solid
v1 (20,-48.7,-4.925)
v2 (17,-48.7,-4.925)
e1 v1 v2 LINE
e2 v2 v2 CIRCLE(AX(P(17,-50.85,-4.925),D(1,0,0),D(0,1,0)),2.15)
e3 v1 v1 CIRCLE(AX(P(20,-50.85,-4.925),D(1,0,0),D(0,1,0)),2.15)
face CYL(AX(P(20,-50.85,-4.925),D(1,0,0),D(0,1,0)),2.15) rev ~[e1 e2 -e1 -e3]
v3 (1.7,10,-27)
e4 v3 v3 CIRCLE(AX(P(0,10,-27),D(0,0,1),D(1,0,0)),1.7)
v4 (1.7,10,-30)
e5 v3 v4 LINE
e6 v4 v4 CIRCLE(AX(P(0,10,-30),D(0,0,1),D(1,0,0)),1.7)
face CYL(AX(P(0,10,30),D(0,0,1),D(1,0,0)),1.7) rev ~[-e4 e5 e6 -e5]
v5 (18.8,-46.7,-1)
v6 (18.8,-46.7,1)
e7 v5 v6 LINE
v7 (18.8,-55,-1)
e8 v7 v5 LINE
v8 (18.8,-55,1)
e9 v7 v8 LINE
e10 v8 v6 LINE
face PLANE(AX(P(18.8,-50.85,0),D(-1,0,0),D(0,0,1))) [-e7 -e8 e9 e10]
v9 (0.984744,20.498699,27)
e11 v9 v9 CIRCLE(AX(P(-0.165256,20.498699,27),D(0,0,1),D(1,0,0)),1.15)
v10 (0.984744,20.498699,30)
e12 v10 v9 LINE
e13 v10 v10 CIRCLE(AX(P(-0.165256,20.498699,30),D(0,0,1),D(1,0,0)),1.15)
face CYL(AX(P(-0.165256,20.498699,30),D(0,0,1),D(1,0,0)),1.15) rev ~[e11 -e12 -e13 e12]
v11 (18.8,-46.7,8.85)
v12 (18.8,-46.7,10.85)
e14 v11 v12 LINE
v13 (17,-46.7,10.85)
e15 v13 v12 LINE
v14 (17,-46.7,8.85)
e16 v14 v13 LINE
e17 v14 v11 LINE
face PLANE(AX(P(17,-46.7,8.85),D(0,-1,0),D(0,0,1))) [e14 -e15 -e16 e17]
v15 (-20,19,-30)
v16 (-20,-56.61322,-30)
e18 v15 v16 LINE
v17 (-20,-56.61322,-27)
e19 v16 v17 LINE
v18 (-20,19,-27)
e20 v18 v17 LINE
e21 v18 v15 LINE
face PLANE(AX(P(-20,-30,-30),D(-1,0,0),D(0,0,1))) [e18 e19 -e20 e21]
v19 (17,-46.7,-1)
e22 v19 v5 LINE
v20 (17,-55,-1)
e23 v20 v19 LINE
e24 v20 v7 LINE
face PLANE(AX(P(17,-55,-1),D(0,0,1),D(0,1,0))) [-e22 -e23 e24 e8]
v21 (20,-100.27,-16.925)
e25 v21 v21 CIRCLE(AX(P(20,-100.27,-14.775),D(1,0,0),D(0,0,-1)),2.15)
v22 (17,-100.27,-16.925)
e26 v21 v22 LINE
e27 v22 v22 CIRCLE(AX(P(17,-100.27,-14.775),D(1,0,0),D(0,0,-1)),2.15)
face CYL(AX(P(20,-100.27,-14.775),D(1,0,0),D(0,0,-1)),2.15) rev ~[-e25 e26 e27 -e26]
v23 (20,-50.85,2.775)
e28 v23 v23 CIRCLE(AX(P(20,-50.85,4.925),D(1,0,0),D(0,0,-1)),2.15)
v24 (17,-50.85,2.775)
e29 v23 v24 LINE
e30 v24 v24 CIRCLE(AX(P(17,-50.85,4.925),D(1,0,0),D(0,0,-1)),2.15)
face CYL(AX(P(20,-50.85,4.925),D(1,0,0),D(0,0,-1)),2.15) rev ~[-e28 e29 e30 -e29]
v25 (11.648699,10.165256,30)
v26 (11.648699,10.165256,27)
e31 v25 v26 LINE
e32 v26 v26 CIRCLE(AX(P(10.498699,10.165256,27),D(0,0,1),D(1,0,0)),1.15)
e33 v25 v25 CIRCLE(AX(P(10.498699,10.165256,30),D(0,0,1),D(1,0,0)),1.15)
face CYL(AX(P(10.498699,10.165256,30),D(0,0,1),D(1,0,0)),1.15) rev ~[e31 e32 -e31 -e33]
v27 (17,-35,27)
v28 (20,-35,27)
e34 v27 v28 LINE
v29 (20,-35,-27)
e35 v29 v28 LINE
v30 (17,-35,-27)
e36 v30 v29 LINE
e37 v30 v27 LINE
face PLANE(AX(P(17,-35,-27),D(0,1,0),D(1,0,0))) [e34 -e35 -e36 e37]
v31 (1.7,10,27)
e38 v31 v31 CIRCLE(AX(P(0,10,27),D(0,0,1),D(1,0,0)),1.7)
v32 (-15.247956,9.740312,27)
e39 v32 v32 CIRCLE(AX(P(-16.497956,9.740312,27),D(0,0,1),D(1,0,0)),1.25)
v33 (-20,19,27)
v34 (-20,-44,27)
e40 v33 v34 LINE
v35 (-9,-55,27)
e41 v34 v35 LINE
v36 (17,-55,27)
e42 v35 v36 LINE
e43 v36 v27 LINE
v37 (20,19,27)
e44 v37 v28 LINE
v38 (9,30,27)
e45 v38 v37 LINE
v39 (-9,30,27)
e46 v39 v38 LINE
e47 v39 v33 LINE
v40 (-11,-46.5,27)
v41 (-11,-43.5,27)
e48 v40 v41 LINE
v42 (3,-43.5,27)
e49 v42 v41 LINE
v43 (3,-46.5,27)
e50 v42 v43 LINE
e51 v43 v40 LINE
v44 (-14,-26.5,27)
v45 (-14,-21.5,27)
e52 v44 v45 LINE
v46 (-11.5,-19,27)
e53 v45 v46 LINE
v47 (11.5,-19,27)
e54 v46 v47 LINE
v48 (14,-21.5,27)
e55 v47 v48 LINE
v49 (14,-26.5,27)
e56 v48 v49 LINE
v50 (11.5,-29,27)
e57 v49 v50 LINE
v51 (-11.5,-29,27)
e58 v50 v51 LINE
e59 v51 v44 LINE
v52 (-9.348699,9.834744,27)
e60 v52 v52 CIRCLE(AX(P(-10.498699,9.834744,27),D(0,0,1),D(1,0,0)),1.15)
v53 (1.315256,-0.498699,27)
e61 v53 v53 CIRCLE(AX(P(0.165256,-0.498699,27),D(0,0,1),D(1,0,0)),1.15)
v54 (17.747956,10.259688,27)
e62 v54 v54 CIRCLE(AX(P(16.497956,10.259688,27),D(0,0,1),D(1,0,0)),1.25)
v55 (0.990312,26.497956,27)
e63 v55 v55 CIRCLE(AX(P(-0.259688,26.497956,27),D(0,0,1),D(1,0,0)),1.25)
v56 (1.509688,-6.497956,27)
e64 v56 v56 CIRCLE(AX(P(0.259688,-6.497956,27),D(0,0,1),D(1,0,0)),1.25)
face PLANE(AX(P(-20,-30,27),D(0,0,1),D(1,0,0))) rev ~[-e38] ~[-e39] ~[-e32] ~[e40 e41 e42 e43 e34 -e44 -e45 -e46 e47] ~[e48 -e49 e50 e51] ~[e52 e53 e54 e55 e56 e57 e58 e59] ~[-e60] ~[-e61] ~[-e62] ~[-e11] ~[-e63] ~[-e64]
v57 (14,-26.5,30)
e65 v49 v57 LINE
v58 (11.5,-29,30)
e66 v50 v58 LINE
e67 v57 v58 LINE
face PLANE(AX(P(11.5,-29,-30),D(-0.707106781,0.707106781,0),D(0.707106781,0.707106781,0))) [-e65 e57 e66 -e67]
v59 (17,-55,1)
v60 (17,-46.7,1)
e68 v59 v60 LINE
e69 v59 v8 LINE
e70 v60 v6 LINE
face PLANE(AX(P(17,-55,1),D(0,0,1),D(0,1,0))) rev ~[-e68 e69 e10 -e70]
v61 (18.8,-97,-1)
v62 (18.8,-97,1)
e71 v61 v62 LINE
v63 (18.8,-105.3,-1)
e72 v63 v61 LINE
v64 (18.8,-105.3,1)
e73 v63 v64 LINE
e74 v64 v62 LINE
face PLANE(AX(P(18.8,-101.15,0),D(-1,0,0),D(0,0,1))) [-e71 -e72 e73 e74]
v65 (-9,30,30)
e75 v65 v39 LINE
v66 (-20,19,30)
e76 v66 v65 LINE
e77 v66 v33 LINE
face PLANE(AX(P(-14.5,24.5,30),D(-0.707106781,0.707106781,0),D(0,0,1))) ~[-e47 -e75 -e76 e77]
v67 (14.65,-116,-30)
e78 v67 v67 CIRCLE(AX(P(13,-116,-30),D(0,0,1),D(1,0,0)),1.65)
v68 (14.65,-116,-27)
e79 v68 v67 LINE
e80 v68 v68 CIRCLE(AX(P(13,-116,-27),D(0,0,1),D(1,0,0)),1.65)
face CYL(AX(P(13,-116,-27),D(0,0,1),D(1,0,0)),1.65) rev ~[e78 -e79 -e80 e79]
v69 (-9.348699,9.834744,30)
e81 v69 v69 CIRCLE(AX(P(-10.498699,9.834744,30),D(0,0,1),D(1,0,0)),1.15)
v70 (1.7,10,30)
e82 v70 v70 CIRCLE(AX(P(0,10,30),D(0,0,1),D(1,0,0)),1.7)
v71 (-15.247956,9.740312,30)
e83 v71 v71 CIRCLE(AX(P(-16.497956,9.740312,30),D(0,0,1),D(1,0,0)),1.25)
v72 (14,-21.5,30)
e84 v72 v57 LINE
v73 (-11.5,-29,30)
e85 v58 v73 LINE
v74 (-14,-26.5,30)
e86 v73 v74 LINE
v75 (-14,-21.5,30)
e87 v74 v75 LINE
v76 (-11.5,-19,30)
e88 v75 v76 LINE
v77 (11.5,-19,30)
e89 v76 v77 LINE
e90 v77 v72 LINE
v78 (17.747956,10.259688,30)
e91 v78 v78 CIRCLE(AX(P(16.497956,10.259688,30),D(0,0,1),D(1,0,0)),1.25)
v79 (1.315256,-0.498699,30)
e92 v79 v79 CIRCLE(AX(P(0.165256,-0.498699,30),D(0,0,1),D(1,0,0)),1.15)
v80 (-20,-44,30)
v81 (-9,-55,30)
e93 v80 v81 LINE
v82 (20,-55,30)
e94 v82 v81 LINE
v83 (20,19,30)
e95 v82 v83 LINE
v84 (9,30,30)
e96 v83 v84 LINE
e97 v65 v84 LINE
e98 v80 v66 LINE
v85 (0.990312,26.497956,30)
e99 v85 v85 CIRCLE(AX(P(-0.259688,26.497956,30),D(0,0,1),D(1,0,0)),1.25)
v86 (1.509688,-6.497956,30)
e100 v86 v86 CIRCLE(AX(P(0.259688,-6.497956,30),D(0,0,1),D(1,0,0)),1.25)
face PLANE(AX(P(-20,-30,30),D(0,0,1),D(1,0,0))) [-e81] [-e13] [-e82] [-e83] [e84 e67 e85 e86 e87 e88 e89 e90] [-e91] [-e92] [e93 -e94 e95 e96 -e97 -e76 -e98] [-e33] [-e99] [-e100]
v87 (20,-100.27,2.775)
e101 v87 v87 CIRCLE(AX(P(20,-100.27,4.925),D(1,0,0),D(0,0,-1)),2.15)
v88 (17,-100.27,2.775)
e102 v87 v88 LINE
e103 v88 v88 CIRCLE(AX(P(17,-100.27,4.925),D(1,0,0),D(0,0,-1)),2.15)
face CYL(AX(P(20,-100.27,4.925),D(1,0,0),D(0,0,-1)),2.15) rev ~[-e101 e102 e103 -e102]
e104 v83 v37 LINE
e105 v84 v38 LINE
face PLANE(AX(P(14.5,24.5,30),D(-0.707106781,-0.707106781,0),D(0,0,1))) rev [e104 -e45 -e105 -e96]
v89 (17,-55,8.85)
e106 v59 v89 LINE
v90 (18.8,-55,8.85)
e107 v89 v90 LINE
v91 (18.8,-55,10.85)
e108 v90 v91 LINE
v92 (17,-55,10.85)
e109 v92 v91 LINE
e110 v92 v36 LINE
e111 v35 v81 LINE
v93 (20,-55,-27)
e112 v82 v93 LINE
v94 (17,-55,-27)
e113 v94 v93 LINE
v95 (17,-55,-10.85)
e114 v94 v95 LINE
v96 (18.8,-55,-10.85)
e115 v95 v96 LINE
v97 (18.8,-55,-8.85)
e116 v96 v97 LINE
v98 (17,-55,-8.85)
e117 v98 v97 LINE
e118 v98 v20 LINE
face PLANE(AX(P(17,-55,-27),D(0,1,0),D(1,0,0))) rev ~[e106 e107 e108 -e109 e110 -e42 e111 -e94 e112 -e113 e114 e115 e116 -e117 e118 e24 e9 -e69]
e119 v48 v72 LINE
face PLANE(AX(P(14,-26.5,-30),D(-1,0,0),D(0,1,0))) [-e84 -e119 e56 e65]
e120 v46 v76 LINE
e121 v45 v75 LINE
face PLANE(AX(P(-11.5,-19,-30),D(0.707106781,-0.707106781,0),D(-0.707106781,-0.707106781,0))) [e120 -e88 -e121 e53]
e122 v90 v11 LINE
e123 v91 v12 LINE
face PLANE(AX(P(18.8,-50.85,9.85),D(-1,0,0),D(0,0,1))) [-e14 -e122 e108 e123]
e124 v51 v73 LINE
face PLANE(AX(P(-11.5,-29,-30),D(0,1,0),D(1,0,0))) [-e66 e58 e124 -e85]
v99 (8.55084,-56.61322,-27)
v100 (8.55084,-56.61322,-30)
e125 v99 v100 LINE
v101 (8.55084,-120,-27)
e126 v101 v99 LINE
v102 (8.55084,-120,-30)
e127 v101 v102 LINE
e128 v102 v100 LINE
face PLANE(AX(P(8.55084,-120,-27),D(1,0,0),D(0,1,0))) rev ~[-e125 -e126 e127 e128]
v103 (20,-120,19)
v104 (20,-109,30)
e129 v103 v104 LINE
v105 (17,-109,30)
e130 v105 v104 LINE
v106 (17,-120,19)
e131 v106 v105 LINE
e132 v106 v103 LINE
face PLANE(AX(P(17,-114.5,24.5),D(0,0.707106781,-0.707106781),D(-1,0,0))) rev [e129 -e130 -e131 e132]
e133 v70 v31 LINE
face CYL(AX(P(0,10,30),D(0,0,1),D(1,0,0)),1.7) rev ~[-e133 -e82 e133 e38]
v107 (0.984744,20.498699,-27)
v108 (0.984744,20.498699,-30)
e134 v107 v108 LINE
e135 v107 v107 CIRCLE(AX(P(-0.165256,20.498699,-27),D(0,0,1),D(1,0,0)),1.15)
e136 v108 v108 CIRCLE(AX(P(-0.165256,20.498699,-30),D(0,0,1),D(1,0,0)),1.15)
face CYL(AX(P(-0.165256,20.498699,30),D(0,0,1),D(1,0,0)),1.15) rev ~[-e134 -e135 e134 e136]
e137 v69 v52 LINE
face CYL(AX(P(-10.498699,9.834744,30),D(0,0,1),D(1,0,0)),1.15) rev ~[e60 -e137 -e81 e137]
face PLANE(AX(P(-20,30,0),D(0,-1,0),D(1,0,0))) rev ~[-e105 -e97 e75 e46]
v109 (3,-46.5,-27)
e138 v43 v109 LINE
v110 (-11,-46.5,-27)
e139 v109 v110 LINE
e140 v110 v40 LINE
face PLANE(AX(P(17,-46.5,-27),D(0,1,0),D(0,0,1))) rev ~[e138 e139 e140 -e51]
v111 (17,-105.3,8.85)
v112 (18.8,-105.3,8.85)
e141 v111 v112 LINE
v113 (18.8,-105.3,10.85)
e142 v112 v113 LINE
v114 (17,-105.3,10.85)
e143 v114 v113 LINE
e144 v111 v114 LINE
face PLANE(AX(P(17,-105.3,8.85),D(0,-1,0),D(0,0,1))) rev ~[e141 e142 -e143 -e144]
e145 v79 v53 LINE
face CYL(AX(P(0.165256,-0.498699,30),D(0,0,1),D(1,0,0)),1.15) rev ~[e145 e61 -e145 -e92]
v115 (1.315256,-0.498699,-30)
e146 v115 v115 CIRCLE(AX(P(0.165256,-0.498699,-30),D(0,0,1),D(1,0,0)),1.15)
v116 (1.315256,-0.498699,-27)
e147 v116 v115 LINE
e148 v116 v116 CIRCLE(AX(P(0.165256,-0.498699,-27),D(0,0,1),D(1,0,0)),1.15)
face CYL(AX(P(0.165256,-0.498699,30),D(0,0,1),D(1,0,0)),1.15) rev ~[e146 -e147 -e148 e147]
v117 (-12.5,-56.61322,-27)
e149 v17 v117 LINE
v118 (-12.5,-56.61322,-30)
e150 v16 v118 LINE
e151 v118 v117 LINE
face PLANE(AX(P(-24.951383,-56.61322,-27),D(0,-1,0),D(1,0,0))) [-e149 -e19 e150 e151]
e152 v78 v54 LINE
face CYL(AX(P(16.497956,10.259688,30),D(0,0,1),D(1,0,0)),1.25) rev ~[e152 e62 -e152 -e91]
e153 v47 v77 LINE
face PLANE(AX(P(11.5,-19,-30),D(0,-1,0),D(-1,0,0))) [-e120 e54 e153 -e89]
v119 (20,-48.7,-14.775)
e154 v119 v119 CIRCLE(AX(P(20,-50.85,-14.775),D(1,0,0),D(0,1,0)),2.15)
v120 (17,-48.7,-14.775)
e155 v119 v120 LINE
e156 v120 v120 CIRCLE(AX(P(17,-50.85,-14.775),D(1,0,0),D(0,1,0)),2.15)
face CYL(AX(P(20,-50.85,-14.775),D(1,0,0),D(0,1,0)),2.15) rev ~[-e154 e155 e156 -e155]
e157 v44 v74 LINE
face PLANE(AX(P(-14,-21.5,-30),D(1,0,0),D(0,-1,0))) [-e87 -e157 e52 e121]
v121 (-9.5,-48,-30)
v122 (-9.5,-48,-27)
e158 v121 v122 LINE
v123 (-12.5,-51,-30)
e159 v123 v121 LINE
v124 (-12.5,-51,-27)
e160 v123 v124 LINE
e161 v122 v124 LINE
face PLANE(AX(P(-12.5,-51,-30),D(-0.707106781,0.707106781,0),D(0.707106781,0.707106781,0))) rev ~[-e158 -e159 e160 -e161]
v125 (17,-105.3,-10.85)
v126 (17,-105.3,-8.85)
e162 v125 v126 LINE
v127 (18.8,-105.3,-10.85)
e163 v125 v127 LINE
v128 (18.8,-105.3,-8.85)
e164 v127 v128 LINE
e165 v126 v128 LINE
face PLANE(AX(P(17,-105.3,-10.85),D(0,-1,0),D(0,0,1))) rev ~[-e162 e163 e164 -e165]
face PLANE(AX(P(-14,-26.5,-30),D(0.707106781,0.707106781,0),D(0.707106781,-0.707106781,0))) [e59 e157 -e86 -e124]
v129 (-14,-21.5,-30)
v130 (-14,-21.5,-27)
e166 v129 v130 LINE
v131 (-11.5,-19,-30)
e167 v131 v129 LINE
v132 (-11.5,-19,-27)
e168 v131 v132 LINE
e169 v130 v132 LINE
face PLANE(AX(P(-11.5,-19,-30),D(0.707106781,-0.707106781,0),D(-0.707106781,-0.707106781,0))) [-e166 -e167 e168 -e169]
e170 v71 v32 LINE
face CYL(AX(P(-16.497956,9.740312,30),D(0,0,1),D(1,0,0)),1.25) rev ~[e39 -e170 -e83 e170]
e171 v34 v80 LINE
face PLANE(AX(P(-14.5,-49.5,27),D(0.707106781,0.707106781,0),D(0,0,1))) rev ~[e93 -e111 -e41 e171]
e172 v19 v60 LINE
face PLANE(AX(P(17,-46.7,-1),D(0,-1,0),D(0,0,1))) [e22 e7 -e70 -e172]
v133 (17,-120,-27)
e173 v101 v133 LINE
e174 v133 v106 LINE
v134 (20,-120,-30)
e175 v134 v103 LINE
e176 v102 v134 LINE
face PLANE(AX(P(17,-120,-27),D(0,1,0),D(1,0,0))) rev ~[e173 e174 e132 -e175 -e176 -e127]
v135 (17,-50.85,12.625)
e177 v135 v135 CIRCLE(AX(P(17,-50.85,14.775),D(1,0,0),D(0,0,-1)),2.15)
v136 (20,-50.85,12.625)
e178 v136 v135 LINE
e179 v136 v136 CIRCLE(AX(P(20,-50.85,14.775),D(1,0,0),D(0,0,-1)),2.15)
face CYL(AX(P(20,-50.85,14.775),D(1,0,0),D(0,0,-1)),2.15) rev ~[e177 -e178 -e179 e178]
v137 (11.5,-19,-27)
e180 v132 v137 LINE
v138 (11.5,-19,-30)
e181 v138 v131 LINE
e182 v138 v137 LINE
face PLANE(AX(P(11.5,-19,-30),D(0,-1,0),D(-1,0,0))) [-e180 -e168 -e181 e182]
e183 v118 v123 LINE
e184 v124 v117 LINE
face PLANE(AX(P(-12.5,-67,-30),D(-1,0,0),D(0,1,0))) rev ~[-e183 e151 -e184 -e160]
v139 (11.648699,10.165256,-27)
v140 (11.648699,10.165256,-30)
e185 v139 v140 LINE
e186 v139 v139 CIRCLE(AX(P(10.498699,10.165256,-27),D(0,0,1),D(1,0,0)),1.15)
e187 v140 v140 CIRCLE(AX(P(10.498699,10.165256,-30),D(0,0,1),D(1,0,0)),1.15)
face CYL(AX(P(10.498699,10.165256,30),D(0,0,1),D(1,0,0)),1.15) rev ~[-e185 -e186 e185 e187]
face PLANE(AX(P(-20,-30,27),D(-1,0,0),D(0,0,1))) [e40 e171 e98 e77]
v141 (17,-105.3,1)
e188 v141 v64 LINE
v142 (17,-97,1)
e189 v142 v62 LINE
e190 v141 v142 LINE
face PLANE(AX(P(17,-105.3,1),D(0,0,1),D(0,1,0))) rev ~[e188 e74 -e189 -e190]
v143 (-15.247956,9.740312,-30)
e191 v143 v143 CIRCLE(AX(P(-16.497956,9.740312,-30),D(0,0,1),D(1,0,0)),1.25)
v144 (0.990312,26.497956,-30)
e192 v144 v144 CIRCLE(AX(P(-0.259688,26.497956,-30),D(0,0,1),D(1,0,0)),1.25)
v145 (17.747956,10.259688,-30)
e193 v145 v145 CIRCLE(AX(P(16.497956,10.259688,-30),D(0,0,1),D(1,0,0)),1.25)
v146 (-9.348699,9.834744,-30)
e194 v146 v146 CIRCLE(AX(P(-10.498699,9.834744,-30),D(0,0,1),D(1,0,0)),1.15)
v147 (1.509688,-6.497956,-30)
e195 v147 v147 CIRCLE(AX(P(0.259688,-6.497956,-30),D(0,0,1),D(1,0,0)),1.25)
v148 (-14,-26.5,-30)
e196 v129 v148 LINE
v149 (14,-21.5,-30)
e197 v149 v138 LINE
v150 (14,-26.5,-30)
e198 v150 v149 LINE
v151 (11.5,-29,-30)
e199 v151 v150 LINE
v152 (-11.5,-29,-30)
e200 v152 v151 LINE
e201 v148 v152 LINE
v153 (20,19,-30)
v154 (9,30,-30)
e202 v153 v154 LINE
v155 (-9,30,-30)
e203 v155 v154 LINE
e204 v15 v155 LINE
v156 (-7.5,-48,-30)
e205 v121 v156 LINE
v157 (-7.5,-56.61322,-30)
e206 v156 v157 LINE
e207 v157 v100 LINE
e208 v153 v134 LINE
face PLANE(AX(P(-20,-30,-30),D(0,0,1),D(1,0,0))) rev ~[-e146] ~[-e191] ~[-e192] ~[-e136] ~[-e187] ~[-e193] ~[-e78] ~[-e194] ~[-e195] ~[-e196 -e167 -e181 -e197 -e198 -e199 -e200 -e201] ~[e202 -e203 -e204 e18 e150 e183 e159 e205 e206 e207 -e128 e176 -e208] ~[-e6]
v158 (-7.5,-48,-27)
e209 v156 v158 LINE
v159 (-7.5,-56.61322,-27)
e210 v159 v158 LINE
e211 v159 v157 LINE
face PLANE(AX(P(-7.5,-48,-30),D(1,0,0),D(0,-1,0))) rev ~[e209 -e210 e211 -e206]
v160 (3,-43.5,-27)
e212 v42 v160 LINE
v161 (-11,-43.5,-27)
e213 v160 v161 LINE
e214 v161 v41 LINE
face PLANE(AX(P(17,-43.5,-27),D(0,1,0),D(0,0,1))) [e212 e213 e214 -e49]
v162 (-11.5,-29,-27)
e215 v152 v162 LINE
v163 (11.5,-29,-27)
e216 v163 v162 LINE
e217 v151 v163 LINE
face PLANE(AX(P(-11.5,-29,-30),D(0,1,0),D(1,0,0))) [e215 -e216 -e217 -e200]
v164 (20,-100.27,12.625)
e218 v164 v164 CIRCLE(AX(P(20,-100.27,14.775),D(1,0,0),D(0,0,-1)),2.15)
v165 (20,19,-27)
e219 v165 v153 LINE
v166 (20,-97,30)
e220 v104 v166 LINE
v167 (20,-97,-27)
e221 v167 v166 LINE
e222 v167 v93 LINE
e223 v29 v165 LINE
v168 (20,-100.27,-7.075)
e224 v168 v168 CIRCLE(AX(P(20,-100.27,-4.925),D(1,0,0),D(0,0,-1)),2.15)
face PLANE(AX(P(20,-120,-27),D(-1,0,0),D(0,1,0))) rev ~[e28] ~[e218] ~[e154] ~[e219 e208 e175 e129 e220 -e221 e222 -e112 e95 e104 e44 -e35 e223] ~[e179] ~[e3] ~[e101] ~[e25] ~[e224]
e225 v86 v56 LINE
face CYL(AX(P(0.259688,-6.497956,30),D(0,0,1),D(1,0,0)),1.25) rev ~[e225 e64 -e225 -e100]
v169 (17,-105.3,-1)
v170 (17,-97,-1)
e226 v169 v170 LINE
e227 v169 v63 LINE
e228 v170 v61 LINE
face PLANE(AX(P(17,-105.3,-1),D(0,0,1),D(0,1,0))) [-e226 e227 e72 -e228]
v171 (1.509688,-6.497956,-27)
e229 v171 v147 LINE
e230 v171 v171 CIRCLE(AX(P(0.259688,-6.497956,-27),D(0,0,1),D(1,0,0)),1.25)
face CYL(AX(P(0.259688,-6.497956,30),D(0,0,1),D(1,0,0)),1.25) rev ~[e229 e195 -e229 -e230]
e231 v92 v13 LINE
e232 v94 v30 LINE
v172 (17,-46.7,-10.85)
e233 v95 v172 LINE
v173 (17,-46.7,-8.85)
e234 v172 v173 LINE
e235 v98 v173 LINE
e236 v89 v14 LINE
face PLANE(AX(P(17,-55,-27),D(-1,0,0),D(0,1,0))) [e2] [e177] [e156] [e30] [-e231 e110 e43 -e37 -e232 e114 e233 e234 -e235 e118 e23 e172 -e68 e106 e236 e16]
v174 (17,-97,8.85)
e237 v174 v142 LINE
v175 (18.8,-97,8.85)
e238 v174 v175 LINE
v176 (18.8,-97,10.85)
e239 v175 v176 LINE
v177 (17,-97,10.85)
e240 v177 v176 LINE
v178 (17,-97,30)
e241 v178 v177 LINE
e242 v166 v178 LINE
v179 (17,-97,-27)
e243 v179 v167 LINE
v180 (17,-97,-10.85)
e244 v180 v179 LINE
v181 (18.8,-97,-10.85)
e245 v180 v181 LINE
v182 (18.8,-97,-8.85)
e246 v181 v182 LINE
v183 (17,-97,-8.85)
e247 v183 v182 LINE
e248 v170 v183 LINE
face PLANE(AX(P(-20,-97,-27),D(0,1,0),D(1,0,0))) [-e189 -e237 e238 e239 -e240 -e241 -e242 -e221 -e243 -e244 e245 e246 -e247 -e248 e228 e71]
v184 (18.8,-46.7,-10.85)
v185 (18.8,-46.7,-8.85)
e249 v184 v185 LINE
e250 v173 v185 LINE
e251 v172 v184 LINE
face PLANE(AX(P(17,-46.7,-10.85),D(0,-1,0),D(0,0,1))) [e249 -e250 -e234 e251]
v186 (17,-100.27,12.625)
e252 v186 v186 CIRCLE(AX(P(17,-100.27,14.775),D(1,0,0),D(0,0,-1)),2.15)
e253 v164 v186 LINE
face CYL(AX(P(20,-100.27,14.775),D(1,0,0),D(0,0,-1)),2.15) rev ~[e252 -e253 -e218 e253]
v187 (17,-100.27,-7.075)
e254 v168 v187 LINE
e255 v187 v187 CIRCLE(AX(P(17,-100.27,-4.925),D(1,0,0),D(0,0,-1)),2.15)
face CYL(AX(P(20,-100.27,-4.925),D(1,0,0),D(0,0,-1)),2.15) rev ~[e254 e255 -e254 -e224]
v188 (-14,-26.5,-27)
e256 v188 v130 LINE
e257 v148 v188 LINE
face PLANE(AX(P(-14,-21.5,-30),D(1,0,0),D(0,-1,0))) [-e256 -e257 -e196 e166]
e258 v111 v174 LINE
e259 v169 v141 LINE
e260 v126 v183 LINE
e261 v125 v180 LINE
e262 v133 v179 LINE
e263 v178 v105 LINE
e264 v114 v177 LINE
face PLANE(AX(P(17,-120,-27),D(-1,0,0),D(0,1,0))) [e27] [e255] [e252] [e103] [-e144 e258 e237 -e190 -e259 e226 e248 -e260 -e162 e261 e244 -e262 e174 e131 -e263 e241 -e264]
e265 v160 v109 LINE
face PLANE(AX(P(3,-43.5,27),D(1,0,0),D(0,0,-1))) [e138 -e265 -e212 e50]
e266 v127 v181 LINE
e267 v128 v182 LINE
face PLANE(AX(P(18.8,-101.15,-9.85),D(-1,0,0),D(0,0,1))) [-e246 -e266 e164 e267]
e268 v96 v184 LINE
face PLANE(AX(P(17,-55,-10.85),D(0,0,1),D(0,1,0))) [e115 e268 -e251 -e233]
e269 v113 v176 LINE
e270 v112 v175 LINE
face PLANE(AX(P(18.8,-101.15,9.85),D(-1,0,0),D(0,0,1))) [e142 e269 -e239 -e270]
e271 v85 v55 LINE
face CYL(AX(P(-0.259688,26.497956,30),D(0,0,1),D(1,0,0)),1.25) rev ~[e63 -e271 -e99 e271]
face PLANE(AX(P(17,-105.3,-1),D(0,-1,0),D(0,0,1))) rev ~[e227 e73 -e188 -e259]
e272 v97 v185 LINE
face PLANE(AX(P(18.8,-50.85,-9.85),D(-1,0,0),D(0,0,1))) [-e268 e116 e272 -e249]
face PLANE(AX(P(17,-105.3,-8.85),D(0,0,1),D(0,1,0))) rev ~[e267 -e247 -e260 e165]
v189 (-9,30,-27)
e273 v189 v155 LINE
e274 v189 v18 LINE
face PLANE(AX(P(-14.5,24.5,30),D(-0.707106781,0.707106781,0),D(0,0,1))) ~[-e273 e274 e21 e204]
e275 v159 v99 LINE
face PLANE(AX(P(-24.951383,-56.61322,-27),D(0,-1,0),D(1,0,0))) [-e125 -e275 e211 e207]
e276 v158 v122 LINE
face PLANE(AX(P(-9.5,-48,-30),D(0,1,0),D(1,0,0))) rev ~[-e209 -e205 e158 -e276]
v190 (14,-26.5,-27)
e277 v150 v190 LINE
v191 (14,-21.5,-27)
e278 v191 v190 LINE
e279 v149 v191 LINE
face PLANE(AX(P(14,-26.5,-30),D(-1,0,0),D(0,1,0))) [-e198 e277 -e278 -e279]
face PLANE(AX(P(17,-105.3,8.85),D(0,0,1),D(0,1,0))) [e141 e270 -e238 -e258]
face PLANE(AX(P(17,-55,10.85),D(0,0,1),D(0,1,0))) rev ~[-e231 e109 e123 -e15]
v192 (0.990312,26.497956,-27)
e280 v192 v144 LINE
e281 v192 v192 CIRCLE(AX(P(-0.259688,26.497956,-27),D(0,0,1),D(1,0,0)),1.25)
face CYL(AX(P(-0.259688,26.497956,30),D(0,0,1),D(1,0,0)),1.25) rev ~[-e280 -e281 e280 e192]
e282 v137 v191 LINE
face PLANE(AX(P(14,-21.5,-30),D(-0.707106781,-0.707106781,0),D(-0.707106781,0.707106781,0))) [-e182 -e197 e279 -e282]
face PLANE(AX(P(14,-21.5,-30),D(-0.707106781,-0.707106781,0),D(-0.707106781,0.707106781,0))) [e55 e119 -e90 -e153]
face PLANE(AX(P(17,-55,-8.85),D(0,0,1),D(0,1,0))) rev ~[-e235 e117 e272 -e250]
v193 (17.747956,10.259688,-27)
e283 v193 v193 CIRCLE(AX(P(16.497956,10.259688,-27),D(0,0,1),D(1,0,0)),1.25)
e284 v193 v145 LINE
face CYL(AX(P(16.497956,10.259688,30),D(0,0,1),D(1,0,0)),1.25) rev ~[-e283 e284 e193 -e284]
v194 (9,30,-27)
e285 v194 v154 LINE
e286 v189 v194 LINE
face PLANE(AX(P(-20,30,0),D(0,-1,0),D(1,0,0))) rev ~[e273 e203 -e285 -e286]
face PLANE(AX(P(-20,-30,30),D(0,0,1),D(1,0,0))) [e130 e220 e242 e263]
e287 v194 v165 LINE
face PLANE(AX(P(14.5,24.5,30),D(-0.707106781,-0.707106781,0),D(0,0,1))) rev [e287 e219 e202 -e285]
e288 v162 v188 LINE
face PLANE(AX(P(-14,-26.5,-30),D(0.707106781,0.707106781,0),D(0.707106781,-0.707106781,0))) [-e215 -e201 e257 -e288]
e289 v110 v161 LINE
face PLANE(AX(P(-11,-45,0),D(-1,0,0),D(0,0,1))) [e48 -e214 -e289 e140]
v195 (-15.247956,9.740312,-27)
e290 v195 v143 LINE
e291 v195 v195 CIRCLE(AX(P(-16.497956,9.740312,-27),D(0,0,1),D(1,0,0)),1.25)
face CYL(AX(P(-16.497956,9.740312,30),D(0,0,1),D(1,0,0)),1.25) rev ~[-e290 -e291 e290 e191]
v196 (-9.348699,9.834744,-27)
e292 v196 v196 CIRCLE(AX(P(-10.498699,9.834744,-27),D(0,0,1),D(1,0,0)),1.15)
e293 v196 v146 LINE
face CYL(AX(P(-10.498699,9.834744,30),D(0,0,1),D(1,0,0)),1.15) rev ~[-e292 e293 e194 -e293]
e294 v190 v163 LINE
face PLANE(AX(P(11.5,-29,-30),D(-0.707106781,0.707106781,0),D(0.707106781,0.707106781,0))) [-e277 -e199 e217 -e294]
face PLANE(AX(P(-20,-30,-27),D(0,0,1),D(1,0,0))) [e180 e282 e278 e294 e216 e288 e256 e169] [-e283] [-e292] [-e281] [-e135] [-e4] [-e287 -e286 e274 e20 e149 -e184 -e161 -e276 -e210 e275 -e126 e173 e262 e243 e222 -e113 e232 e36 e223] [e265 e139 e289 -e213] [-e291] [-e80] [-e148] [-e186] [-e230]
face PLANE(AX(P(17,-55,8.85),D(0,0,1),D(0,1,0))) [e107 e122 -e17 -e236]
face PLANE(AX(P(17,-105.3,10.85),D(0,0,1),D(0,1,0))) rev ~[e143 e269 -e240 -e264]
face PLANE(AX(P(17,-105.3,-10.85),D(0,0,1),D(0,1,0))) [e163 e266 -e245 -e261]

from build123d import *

# Parameters (mm, degrees)
SKETCH_1_W           = 40
SKETCH_1_H           = 60
EXTRUDE_1_DEPTH      = 30
CHAMFER_3_SIZE       = 11
SKETCH_6_W           = 40
SKETCH_6_H           = 54
CUT_EXTRUDE_4_DEPTH  = 80
SKETCH_7_R           = 1.7
CUT_EXTRUDE_5_DEPTH  = 80
SKETCH_9_R           = 1.25
SKETCH_9_R_2         = 1.15
CUT_EXTRUDE_6_DEPTH  = 80
SKETCH_10_W          = 40
SKETCH_10_H          = 3
EXTRUDE_2_DEPTH      = 90
SKETCH_11_W          = 3
SKETCH_11_H          = 20
EXTRUDE_3_DEPTH      = 54
SKETCH_13_W          = 3
SKETCH_13_H          = 27.7
EXTRUDE_4_DEPTH      = 54
SKETCH_12_R          = 2.15
CUT_EXTRUDE_7_DEPTH  = 10
SKETCH_15_W          = 40
SKETCH_15_H          = 42
CUT_EXTRUDE_8_DEPTH  = 80
SKETCH_16_W          = 37
SKETCH_16_H          = 23
CUT_EXTRUDE_9_DEPTH  = 40
SKETCH_17_W          = 2
SKETCH_17_H          = 8.3
CUT_EXTRUDE_10_DEPTH = 1.8
SKETCH_18_W          = 54
SKETCH_18_H          = 3
EXTRUDE_5_DEPTH      = 28
SKETCH_19_W          = 14
SKETCH_19_H          = 54
CUT_EXTRUDE_11_DEPTH = 11.5
CHAMFER_4_SIZE       = 11
SKETCH_24_R          = 1.7
CUT_EXTRUDE_12_DEPTH = 35
SKETCH_25_R          = 1.65
CUT_EXTRUDE_13_DEPTH = 35
CUT_EXTRUDE_14_DEPTH = 65
CUT_EXTRUDE_15_DEPTH = 45
SKETCH_29_W          = 33.502223789
SKETCH_29_H          = 63.386780399
CUT_EXTRUDE_16_DEPTH = 10


with BuildPart() as part:
    # 草图1 → 凸台-拉伸1 (new, symmetric)
    with BuildSketch(Plane.XY):
        Rectangle(SKETCH_1_W, SKETCH_1_H)
    extrude(amount=EXTRUDE_1_DEPTH, both=True)

    # 倒角3
    chamfer_3_edges = [part.edges().sort_by_distance(p)[0] for p in [
        (-20, 30, 0),
        (20, 30, 0),
    ]]
    chamfer(chamfer_3_edges, length=CHAMFER_3_SIZE)

    # 草图6 → 切除-拉伸4 (cut)
    with BuildSketch(Plane(origin=(0, 30, 0), x_dir=(1, 0, 0), z_dir=(0, 1, 0))):
        Rectangle(SKETCH_6_W, SKETCH_6_H)
    extrude(amount=-CUT_EXTRUDE_4_DEPTH, mode=Mode.SUBTRACT)


with BuildPart() as cut_extrude_4_piece_1:
    # of the separate pieces the step leaves, piece 1, a body of its own (cut_extrude_4_pieces)
    add(part.part.solids().sort_by_distance((-20, 19, -27))[0])


with BuildPart() as cut_extrude_4_piece_2:
    # of the separate pieces the step leaves, piece 2, a body of its own (cut_extrude_4_pieces)
    add(part.part.solids().sort_by_distance((-20, 19, 30))[0])


with BuildPart() as cut_extrude_5_tool:
    # 草图7 → 切除-拉伸5 (new body)
    with BuildSketch(Plane.XY.offset(30)):
        with Locations((0, 10)):
            Circle(SKETCH_7_R)
    extrude(amount=-CUT_EXTRUDE_5_DEPTH)


with BuildPart() as cut_extrude_4_piece_1_1:
    add(cut_extrude_4_piece_1.part)

    # 切除-拉伸5: cut by cut_extrude_5_tool
    add(cut_extrude_5_tool.part, mode=Mode.SUBTRACT)


with BuildPart() as cut_extrude_4_piece_2_1:
    add(cut_extrude_4_piece_2.part)

    # 切除-拉伸5: cut by cut_extrude_5_tool
    add(cut_extrude_5_tool.part, mode=Mode.SUBTRACT)


with BuildPart() as cut_extrude_6_tool:
    # 草图9 → 切除-拉伸6 (new body)
    with BuildSketch(Plane.XY.offset(30)):
        with Locations((-16.497956308, 9.740312384)):
            Circle(SKETCH_9_R)
        with Locations((-10.498699469, 9.834744245)):
            Circle(SKETCH_9_R_2)
        with Locations((-0.165255755, 20.498699469)):
            Circle(SKETCH_9_R_2)
        with Locations((-0.259687616, 26.497956308)):
            Circle(SKETCH_9_R)
        with Locations((10.498699469, 10.165255755)):
            Circle(SKETCH_9_R_2)
        with Locations((16.497956308, 10.259687616)):
            Circle(SKETCH_9_R)
        with Locations((0.165255755, -0.498699469)):
            Circle(SKETCH_9_R_2)
        with Locations((0.259687616, -6.497956308)):
            Circle(SKETCH_9_R)
    extrude(amount=-CUT_EXTRUDE_6_DEPTH)


with BuildPart() as cut_extrude_4_piece_1_2:
    add(cut_extrude_4_piece_1_1.part)

    # 切除-拉伸6: cut by cut_extrude_6_tool
    add(cut_extrude_6_tool.part, mode=Mode.SUBTRACT)



with BuildPart() as cut_extrude_4_piece_2_2:
    add(cut_extrude_4_piece_2_1.part)

    # 切除-拉伸6: cut by cut_extrude_6_tool
    add(cut_extrude_6_tool.part, mode=Mode.SUBTRACT)


with BuildPart() as cut_extrude_4_piece_1_3:
    add(cut_extrude_4_piece_1_2.part)

    add(cut_extrude_4_piece_2_2.part)  # 凸台-拉伸2 merges 切除-拉伸4 piece 2
    # 草图10 → 凸台-拉伸2 (add)
    with BuildSketch(Plane.XZ.offset(30)):
        with Locations((0, 28.5)):
            Rectangle(SKETCH_10_W, SKETCH_10_H)
        with Locations((0, -28.5)):
            Rectangle(SKETCH_10_W, SKETCH_10_H)
    extrude(amount=EXTRUDE_2_DEPTH)

    # 草图11 → 凸台-拉伸3 (add)
    with BuildSketch(Plane.XY.offset(-27)):
        with Locations((18.5, -45)):
            Rectangle(SKETCH_11_W, SKETCH_11_H)
    extrude(amount=EXTRUDE_3_DEPTH)

    # 草图13 → 凸台-拉伸4 (add)
    with BuildSketch(Plane.XY.offset(-27)):
        with Locations((18.5, -106.15)):
            Rectangle(SKETCH_13_W, SKETCH_13_H)
    extrude(amount=EXTRUDE_4_DEPTH)

    # 草图12 → 切除-拉伸7 (cut)
    with BuildSketch(Plane(origin=(20, 0, 0), x_dir=(0, 0, -1), z_dir=(1, 0, 0))):
        with Locations((-14.775, -50.85)):
            Circle(SKETCH_12_R)
        with Locations((-4.925, -50.85)):
            Circle(SKETCH_12_R)
        with Locations((-14.775, -100.27)):
            Circle(SKETCH_12_R)
        with Locations((-4.925, -100.27)):
            Circle(SKETCH_12_R)
        with Locations((4.925, -100.27)):
            Circle(SKETCH_12_R)
        with Locations((14.775, -100.27)):
            Circle(SKETCH_12_R)
        with Locations(Location((4.925, -50.85, 0), (0, 0, 90))):
            Circle(SKETCH_12_R)
        with Locations(Location((14.775, -50.85, 0), (0, 0, 90))):
            Circle(SKETCH_12_R)
    extrude(amount=-CUT_EXTRUDE_7_DEPTH, mode=Mode.SUBTRACT)

    # 草图15 → 切除-拉伸8 (cut)
    with BuildSketch(Plane.XY.offset(-27)):
        with Locations((0, -76)):
            Rectangle(SKETCH_15_W, SKETCH_15_H)
    extrude(amount=CUT_EXTRUDE_8_DEPTH, mode=Mode.SUBTRACT)

    # 草图16 → 切除-拉伸9 (cut)
    with BuildSketch(Plane(origin=(0, 0, 27), x_dir=(-1, 0, 0), z_dir=(0, 0, -1))):
        with Locations((1.5, -108.5)):
            Rectangle(SKETCH_16_W, SKETCH_16_H)
    extrude(amount=-CUT_EXTRUDE_9_DEPTH, mode=Mode.SUBTRACT)

    # 草图17 → 切除-拉伸10 (cut)
    with BuildSketch(Plane.ZY.offset(-17)):
        with Locations((0, -50.85)):
            Rectangle(SKETCH_17_W, SKETCH_17_H)
        with Locations((-9.85, -50.85)):
            Rectangle(SKETCH_17_W, SKETCH_17_H)
        with Locations((9.85, -50.85)):
            Rectangle(SKETCH_17_W, SKETCH_17_H)
        with Locations((9.85, -101.15)):
            Rectangle(SKETCH_17_W, SKETCH_17_H)
        with Locations((-9.85, -101.15)):
            Rectangle(SKETCH_17_W, SKETCH_17_H)
        with Locations((0, -101.15)):
            Rectangle(SKETCH_17_W, SKETCH_17_H)
    extrude(amount=-CUT_EXTRUDE_10_DEPTH, mode=Mode.SUBTRACT)

    # 草图18 → 凸台-拉伸5 (add)
    with BuildSketch(Plane.ZY.offset(-17)):
        with Locations((0, -45)):
            Rectangle(SKETCH_18_W, SKETCH_18_H)
    extrude(amount=EXTRUDE_5_DEPTH)

    # 草图19 → 切除-拉伸11 (cut)
    with BuildSketch(Plane(origin=(0, -43.5, 0), x_dir=(1, 0, 0), z_dir=(0, 1, 0))):
        with Locations((10, 0)):
            Rectangle(SKETCH_19_W, SKETCH_19_H)
    extrude(amount=-CUT_EXTRUDE_11_DEPTH, mode=Mode.SUBTRACT)

    # 倒角4
    chamfer_4_edges = [cut_extrude_4_piece_1_3.edges().sort_by_distance(p)[0] for p in [
        (-20, -55, 28.5),
        (18.5, -120, 30),
        (-20, -120, -28.5),
    ]]
    chamfer(chamfer_4_edges, length=CHAMFER_4_SIZE)

    # 草图24 → 切除-拉伸12 (cut)
    with BuildSketch(Plane.XY.offset(-27)):
        with Locations((-14, -79)):
            Circle(SKETCH_24_R)
        with Locations((-14, -89)):
            Circle(SKETCH_24_R)
    extrude(amount=-CUT_EXTRUDE_12_DEPTH, mode=Mode.SUBTRACT)

    # 草图25 → 切除-拉伸13 (cut)
    with BuildSketch(Plane.XY.offset(-27)):
        with Locations((3, -116)):
            Circle(SKETCH_25_R)
        with Locations((13, -116)):
            Circle(SKETCH_25_R)
    extrude(amount=-CUT_EXTRUDE_13_DEPTH, mode=Mode.SUBTRACT)

    # 草图27 → 切除-拉伸14 (cut)
    with BuildSketch(Plane(origin=(0, 0, -30), x_dir=(-1, 0, 0), z_dir=(0, 0, -1))):
        Polygon((-14, -21.5), (-11.5, -19), (11.5, -19), (14, -21.5), (14, -26.5), (11.5, -29), (-11.5, -29), (-14, -26.5), align=None)
    extrude(amount=-CUT_EXTRUDE_14_DEPTH, mode=Mode.SUBTRACT)

    # 草图28 → 切除-拉伸15 (cut)
    with BuildSketch(Plane(origin=(0, 0, -30), x_dir=(-1, 0, 0), z_dir=(0, 0, -1))):
        Polygon((-4, -105), (-1, -105), (-1, -81), (-4, -81), (-7, -84), (-7, -102), align=None)
        Polygon((7.5, -70), (9.5, -70), (12.5, -67), (12.5, -51), (9.5, -48), (7.5, -48), align=None)
    extrude(amount=-CUT_EXTRUDE_15_DEPTH, mode=Mode.SUBTRACT)

    # 草图29 → 切除-拉伸16 (cut)
    with BuildSketch(Plane.XY.offset(-27)):
        with Locations((-8.200271599, -88.306609801)):
            Rectangle(SKETCH_29_W, SKETCH_29_H)
    extrude(amount=-CUT_EXTRUDE_16_DEPTH, mode=Mode.SUBTRACT)


solid = cut_extrude_4_piece_1_3.part
